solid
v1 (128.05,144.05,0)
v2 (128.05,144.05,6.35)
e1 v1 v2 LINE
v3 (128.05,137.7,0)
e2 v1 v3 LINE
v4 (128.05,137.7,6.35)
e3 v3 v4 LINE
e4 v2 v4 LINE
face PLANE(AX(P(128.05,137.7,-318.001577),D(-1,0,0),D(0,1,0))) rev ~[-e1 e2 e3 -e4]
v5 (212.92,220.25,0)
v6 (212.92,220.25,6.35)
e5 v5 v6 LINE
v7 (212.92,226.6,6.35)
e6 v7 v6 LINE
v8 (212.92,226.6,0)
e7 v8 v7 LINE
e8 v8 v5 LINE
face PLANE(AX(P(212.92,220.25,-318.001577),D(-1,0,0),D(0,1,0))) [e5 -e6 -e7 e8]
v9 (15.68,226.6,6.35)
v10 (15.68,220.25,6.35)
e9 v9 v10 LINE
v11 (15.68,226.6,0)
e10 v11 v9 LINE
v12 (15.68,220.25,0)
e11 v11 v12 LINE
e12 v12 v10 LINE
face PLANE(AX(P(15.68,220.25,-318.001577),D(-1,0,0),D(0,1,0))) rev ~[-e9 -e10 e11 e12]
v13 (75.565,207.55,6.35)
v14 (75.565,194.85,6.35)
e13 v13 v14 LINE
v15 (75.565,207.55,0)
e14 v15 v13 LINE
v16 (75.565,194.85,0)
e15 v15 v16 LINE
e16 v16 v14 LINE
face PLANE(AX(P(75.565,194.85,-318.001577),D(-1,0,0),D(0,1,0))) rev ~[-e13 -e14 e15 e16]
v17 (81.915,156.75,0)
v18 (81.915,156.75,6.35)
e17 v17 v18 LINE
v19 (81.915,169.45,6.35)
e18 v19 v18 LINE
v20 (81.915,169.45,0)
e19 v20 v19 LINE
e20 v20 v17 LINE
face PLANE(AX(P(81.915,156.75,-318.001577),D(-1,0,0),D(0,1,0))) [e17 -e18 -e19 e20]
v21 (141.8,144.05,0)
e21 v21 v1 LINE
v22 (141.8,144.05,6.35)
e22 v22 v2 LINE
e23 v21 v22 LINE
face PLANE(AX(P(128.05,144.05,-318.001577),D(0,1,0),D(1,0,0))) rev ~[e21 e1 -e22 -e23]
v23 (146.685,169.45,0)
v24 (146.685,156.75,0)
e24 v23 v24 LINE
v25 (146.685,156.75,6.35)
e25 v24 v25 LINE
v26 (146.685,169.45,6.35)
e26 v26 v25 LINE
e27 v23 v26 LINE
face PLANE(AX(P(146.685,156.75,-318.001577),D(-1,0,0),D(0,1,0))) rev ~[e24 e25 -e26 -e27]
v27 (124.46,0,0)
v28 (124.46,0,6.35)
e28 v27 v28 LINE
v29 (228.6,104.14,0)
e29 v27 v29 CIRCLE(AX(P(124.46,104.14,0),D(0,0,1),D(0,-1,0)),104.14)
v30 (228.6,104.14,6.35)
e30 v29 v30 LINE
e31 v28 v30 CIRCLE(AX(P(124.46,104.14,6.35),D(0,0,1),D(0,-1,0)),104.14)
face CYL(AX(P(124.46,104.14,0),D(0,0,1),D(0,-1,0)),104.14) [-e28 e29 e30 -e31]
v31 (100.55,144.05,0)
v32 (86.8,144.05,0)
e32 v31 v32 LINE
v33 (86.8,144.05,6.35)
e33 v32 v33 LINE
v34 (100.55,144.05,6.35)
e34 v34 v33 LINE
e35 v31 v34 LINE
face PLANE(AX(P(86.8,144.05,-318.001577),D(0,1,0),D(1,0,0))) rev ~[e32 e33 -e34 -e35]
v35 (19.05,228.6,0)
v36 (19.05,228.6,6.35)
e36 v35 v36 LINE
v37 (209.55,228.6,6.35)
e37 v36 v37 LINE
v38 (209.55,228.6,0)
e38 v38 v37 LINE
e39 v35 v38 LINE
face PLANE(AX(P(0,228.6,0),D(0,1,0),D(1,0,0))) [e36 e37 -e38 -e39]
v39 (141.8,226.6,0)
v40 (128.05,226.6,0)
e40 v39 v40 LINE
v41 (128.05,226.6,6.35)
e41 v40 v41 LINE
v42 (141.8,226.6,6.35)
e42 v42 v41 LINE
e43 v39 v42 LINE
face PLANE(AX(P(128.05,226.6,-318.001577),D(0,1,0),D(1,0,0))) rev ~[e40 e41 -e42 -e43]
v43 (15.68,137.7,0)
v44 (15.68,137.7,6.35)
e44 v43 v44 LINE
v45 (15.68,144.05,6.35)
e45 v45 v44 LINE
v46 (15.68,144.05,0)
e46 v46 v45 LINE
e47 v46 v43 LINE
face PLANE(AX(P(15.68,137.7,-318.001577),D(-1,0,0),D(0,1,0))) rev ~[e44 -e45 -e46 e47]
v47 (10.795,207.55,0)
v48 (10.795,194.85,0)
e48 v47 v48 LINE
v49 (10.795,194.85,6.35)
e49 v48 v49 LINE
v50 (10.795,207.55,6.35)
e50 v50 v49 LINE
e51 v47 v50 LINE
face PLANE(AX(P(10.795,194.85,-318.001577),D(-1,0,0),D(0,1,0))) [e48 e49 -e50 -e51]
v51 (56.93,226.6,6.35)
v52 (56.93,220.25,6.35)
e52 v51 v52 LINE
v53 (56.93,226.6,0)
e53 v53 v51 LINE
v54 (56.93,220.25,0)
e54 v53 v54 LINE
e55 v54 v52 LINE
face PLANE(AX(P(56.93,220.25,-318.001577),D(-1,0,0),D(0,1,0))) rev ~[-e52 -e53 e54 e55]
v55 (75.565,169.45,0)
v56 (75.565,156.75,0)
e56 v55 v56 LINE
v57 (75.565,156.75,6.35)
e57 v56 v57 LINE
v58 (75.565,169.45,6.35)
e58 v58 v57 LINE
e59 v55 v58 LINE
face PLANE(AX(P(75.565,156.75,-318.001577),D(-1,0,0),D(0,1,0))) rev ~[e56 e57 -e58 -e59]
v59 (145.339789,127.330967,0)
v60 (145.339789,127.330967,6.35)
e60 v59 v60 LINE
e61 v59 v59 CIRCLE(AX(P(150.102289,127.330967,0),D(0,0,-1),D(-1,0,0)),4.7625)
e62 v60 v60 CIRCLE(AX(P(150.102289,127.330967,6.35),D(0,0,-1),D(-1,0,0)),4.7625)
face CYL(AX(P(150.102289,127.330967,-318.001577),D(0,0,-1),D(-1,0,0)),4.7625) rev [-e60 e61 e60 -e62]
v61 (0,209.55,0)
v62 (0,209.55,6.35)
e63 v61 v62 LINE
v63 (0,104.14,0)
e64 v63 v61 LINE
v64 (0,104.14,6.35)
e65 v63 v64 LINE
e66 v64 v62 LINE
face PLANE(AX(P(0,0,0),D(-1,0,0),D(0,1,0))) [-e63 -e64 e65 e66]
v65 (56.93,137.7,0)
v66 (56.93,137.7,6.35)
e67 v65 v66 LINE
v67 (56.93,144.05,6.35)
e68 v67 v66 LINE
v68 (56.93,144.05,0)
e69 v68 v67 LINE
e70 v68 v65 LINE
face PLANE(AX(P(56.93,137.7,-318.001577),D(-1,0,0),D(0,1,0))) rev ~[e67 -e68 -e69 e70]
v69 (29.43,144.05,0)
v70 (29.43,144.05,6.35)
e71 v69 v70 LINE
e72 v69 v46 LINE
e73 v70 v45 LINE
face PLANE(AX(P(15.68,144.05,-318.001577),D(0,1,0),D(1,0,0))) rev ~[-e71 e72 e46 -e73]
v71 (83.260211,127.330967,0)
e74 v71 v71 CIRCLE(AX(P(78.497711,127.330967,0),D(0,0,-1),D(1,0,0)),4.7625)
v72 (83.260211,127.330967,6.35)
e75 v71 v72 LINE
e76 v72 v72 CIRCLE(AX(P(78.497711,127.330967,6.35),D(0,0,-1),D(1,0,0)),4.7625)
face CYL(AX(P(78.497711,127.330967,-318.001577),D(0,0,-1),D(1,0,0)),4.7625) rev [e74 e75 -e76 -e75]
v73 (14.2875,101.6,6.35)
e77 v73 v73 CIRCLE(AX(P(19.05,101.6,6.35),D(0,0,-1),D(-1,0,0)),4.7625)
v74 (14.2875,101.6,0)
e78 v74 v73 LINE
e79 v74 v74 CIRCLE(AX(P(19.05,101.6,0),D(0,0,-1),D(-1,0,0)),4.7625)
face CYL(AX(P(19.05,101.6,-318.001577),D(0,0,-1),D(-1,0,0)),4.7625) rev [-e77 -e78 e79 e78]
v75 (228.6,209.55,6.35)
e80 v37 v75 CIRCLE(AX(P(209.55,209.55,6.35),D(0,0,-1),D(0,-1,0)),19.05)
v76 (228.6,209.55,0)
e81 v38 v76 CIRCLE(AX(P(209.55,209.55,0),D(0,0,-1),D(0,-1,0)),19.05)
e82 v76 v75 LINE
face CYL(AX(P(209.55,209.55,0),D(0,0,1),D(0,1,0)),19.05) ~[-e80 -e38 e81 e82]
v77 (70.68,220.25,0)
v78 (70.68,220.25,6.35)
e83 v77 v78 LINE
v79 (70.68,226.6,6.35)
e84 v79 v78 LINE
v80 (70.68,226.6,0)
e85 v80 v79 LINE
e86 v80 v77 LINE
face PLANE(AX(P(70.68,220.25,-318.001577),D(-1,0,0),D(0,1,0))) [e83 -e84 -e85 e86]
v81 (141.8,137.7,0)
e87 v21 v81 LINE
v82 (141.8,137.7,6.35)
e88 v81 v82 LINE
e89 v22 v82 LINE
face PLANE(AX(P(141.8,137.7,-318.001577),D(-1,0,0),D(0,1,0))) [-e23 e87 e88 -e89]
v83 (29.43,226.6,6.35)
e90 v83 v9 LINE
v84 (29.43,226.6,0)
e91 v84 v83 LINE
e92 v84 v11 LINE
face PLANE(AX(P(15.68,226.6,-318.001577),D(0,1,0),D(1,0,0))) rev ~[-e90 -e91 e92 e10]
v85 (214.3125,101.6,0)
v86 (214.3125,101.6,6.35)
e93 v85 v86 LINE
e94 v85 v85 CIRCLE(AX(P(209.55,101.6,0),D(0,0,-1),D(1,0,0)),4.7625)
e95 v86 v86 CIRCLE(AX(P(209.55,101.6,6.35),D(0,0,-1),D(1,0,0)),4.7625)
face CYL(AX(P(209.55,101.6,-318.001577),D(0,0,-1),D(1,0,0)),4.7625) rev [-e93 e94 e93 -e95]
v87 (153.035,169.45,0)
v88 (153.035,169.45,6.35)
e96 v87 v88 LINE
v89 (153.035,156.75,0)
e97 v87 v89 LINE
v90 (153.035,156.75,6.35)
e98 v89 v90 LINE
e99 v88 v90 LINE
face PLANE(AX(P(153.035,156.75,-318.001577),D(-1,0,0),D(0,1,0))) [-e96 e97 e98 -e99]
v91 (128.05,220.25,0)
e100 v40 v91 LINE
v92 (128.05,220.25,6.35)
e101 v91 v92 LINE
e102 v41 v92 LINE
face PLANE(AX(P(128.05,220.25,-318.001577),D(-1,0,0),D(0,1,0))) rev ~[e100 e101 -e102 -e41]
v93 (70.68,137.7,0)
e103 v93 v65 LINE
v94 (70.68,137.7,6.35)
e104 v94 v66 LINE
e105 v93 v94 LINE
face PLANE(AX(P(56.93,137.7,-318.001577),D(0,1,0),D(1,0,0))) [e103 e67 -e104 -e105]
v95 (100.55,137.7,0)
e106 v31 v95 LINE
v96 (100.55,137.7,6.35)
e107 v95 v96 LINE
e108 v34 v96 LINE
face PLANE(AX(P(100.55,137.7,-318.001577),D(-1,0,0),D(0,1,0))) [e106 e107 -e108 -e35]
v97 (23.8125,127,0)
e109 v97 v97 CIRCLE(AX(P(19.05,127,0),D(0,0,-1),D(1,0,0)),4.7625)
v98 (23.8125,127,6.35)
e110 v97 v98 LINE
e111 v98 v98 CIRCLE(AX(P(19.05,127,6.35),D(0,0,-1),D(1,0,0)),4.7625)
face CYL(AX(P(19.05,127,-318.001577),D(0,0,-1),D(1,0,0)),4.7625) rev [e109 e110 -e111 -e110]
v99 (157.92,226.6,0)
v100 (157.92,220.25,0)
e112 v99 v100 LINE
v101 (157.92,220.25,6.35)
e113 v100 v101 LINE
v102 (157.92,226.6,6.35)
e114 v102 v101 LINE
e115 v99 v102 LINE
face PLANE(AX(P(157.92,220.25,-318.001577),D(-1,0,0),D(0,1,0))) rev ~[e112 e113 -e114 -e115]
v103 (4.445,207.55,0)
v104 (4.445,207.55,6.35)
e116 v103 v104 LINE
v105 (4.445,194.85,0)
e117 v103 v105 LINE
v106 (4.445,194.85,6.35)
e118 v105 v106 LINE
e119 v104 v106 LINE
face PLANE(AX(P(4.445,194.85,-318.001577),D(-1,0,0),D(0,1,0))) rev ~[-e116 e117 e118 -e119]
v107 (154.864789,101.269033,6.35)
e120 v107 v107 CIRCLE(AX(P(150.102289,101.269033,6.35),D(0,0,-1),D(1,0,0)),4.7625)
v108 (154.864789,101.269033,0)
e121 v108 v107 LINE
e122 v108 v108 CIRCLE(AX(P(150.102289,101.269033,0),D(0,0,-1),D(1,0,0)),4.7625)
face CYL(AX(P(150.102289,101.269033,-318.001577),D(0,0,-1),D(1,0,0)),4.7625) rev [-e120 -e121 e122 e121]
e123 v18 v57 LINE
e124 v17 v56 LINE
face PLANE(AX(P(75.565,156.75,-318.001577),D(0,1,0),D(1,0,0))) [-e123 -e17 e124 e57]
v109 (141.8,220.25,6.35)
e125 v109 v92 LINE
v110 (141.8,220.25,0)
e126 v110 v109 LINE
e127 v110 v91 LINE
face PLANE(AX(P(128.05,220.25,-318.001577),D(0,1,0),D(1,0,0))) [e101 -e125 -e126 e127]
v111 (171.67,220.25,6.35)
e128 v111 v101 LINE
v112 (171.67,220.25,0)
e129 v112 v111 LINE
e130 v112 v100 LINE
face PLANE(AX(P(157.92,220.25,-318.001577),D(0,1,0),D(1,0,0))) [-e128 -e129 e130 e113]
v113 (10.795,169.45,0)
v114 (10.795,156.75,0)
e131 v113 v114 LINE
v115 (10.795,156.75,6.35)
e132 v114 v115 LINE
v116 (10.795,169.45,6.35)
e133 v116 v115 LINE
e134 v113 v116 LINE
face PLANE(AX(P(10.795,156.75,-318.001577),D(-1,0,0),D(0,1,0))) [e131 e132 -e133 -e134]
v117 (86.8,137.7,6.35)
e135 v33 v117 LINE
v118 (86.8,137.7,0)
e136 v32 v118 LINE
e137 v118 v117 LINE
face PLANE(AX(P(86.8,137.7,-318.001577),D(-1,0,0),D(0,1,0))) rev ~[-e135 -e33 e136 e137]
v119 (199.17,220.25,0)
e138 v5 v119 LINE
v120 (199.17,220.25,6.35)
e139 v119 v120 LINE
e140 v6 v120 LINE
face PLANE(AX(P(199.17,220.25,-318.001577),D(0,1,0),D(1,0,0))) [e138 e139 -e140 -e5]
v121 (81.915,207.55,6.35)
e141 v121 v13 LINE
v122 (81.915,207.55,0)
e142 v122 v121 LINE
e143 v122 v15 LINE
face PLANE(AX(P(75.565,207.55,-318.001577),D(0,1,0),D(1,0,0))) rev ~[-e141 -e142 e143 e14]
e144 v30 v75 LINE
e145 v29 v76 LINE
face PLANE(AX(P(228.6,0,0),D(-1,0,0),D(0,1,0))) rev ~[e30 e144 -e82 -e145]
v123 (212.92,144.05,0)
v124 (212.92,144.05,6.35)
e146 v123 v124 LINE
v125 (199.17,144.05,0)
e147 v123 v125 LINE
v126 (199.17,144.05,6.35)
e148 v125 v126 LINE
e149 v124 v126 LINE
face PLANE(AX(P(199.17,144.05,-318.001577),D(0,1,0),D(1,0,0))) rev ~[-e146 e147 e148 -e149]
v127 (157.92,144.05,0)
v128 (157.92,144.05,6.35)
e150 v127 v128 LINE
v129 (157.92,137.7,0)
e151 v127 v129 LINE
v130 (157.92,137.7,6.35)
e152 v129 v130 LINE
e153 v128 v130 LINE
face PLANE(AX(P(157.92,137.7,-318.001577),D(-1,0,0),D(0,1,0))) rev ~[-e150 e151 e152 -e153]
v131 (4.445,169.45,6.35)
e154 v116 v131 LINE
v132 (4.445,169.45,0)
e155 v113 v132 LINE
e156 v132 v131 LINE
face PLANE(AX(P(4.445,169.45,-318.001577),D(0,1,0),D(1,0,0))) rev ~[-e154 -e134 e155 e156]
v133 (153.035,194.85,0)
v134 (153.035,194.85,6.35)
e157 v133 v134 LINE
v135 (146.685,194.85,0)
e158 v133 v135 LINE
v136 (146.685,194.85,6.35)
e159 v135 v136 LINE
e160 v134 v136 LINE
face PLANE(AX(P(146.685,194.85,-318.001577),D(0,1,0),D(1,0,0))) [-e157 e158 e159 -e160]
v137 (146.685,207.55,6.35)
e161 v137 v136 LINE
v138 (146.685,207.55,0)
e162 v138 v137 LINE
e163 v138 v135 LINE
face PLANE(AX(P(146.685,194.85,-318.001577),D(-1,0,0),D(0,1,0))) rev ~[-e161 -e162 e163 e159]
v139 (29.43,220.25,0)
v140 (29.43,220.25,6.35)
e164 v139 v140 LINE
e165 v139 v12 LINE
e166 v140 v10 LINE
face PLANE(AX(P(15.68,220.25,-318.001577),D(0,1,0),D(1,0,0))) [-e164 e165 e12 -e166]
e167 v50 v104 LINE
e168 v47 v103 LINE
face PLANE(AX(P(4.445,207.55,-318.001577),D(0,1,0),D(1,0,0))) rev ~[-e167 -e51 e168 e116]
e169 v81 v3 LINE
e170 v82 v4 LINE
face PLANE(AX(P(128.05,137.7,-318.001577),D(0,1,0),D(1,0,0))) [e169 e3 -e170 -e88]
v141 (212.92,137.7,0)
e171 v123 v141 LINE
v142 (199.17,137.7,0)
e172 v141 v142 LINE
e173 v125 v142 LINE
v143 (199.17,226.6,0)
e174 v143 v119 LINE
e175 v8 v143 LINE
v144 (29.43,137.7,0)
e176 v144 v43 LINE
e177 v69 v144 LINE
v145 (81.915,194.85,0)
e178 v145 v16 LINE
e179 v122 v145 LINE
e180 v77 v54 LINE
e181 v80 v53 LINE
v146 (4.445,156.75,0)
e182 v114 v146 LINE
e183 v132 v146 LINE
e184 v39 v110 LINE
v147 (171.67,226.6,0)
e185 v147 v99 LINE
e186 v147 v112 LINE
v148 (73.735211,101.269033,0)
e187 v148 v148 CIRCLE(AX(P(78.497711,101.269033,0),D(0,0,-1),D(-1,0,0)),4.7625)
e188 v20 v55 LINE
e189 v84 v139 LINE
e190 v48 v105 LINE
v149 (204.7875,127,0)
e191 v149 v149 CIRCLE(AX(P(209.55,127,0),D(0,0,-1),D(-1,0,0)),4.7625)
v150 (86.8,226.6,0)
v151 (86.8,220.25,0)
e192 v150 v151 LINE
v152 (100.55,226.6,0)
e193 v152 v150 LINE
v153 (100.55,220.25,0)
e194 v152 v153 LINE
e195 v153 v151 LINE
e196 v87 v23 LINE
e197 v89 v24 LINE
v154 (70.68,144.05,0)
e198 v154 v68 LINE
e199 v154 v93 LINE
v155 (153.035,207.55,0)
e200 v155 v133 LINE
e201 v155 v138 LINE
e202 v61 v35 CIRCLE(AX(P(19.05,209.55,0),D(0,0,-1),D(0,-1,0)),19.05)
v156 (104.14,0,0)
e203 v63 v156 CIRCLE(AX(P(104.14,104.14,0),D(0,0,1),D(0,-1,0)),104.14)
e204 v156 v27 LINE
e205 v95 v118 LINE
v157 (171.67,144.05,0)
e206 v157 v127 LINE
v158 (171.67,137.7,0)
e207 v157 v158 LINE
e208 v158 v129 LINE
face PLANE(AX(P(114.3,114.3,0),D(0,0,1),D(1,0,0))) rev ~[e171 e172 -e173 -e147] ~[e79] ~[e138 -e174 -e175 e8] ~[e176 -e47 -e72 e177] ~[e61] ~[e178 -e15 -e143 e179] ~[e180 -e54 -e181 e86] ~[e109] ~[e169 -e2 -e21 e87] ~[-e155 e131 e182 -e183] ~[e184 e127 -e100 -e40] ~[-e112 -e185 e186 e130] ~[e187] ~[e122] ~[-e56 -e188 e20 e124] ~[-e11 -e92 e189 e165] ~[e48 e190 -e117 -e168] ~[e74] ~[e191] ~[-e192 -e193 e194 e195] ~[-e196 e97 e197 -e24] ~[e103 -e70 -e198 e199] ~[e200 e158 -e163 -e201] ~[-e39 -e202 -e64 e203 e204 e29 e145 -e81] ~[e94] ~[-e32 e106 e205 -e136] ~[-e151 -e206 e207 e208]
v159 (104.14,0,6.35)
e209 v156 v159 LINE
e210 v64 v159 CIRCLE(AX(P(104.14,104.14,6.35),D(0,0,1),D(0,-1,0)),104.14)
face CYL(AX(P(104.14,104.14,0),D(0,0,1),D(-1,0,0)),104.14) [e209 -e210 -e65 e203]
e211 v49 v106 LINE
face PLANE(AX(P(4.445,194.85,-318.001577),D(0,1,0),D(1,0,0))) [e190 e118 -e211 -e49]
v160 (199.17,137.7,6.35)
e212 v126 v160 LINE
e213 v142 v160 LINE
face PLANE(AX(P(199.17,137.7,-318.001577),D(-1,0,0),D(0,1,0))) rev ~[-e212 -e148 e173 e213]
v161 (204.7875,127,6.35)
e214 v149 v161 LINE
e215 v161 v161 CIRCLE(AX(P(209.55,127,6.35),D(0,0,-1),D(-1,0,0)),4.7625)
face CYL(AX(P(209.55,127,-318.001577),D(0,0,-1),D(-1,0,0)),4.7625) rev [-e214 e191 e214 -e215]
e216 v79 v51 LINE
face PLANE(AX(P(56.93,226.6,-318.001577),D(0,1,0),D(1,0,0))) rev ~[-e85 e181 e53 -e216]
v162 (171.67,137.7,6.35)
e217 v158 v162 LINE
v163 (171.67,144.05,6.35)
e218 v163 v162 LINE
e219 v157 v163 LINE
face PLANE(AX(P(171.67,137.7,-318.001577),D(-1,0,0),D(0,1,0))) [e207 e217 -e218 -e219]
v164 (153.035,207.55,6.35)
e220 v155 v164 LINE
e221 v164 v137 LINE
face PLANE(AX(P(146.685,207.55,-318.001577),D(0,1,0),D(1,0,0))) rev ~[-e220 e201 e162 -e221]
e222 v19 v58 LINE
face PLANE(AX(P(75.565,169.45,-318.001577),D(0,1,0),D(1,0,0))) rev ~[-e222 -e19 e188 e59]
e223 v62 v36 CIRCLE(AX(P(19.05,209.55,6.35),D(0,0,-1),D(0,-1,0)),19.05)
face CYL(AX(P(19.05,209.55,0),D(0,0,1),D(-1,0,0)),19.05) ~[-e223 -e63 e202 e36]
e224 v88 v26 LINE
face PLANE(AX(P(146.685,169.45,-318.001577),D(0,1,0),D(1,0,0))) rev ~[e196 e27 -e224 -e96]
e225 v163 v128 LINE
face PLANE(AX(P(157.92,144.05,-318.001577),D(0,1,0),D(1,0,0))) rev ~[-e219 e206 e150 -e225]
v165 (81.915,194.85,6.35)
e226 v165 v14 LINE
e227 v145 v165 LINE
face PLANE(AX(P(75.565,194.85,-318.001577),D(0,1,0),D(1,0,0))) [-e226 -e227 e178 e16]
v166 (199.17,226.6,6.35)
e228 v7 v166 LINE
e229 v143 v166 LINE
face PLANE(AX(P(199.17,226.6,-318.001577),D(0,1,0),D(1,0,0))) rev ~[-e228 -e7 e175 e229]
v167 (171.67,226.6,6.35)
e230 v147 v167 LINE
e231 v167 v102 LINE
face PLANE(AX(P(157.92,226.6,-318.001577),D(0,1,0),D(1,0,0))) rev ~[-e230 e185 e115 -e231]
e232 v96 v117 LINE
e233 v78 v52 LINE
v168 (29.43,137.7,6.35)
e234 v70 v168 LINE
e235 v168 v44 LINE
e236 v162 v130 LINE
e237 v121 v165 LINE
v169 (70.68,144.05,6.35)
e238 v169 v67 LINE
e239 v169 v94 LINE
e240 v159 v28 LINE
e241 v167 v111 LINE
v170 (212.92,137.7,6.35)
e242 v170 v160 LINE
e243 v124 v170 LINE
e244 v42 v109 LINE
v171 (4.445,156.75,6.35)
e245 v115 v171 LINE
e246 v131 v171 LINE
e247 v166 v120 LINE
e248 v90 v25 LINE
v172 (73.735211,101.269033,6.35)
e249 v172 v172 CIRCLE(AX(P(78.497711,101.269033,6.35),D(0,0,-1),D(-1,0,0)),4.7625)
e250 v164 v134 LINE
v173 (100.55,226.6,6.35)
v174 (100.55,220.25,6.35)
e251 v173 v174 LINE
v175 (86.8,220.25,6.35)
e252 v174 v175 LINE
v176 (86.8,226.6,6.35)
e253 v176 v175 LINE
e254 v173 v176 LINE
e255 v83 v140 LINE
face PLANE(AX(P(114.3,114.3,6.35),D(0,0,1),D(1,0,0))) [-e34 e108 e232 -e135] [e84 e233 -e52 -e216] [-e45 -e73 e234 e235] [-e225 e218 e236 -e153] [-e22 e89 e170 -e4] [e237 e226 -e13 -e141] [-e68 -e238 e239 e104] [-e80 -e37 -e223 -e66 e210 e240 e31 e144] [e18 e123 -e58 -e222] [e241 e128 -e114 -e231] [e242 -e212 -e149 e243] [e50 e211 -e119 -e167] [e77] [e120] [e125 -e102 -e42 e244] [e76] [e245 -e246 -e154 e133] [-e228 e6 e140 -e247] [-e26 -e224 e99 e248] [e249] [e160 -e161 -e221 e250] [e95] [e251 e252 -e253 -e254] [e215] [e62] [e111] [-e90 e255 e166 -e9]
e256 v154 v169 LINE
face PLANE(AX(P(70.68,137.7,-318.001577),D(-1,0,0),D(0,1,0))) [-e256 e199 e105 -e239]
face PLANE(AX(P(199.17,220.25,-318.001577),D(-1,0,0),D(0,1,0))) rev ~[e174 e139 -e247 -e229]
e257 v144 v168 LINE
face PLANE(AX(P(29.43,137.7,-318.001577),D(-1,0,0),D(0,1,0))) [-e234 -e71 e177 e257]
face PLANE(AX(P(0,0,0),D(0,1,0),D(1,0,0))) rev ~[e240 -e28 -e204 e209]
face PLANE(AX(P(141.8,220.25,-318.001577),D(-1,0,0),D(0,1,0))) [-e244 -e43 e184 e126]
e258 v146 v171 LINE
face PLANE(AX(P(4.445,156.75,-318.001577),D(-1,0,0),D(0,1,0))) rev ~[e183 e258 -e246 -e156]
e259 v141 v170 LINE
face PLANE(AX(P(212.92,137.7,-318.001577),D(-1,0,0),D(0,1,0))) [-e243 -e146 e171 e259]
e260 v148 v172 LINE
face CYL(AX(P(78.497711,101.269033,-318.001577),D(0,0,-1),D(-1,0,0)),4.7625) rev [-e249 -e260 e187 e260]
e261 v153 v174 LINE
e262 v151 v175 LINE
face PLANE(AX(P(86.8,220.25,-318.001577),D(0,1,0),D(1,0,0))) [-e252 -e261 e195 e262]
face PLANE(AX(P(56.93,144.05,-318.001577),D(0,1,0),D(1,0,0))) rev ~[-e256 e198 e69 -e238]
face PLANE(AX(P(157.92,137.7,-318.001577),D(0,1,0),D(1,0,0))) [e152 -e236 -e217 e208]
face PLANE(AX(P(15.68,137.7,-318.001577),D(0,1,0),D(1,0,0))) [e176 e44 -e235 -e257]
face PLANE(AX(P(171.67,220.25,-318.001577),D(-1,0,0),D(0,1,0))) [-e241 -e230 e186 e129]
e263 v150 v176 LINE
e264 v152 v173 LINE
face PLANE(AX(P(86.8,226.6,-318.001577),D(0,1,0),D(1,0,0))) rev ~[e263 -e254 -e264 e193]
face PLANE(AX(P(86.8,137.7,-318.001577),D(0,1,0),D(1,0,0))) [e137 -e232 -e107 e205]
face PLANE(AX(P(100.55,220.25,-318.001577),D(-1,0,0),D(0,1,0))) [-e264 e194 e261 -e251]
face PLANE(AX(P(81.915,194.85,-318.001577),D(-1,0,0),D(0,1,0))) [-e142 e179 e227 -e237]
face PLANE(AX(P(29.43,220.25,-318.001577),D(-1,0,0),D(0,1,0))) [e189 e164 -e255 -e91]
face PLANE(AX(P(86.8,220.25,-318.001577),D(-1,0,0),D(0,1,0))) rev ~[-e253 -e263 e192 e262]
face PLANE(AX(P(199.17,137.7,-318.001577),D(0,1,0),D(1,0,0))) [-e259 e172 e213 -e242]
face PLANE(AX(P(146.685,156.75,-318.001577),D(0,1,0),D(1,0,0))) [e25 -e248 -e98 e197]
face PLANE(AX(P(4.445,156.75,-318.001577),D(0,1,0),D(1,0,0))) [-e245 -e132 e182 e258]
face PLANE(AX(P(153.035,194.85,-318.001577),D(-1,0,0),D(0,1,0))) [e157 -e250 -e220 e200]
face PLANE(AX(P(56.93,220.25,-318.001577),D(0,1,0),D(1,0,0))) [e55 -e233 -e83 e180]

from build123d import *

# Parameters (mm, degrees)
SKETCH1_W               = 228.6
SKETCH1_H               = 228.6
BOSS_EXTRUDE1_DEPTH     = 6.35
CUT_EXTRUDE1_DEPTH      = 324.351577234
CUT_EXTRUDE1_DEPTH_BACK = 324.351577234
SKETCH2_W               = 13.749999996
SKETCH2_H               = 6.35
SKETCH2_W_2             = 13.749999995
CUT_EXTRUDE2_DEPTH      = 324.351577234
CUT_EXTRUDE2_DEPTH_BACK = 324.351577234
SKETCH3_R               = 4.7625
FILLET1_R               = 19.05
FILLET2_R               = 104.14
CUT_EXTRUDE3_DEPTH      = 324.351577234
CUT_EXTRUDE3_DEPTH_BACK = 324.351577234
SKETCH4_W               = 6.35
SKETCH4_H               = 12.7
CUT_EXTRUDE4_DEPTH      = 324.351577234
CUT_EXTRUDE4_DEPTH_BACK = 324.351577234
SKETCH5_R               = 4.7625


with BuildPart() as part:
    # Sketch1 → Boss-Extrude1 (new body)
    with BuildSketch(Plane.XY):
        with Locations((114.3, 114.3)):
            Rectangle(SKETCH1_W, SKETCH1_H)
    extrude(amount=BOSS_EXTRUDE1_DEPTH)

    # Sketch2 → Cut-Extrude1 (cut, two sides: drawn at the far end of the back side and taken through both)
    with BuildSketch(Plane.XY.offset(6.35).offset(-CUT_EXTRUDE1_DEPTH_BACK)):
        with Locations((134.924999993, 223.424999936)):
            Rectangle(SKETCH2_W, SKETCH2_H)
        with Locations((93.675000006, 223.424999936)):
            Rectangle(SKETCH2_W_2, SKETCH2_H)
        with Locations((206.044999993, 223.424999936)):
            Rectangle(SKETCH2_W, SKETCH2_H)
        with Locations((164.795000007, 223.424999936)):
            Rectangle(SKETCH2_W_2, SKETCH2_H)
        with Locations((22.555000007, 223.424999936)):
            Rectangle(SKETCH2_W_2, SKETCH2_H)
        with Locations((63.804999993, 223.424999936)):
            Rectangle(SKETCH2_W, SKETCH2_H)
        with Locations((206.044999993, 140.874999936)):
            Rectangle(SKETCH2_W, SKETCH2_H)
        with Locations((164.795000007, 140.874999936)):
            Rectangle(SKETCH2_W_2, SKETCH2_H)
        with Locations((134.924999993, 140.874999936)):
            Rectangle(SKETCH2_W, SKETCH2_H)
        with Locations((93.675000006, 140.874999936)):
            Rectangle(SKETCH2_W_2, SKETCH2_H)
        with Locations((63.804999993, 140.874999936)):
            Rectangle(SKETCH2_W, SKETCH2_H)
        with Locations((22.555000007, 140.874999936)):
            Rectangle(SKETCH2_W, SKETCH2_H)
    extrude(amount=CUT_EXTRUDE1_DEPTH + CUT_EXTRUDE1_DEPTH_BACK, mode=Mode.SUBTRACT)

    # Sketch3 → Cut-Extrude2 (cut, two sides: drawn at the far end of the back side and taken through both)
    with BuildSketch(Plane.XY.offset(6.35).offset(-CUT_EXTRUDE2_DEPTH_BACK)):
        with Locations((19.05, 127)):
            Circle(SKETCH3_R)
        with Locations(Location((19.05, 101.6, 0), (0, 0, 180))):
            Circle(SKETCH3_R)
        with Locations((209.55, 101.6)):
            Circle(SKETCH3_R)
        with Locations(Location((209.55, 127, 0), (0, 0, 180))):
            Circle(SKETCH3_R)
    extrude(amount=CUT_EXTRUDE2_DEPTH + CUT_EXTRUDE2_DEPTH_BACK, mode=Mode.SUBTRACT)

    # Fillet1
    fillet1_edges = [part.edges().sort_by_distance(p)[0] for p in [
        (0, 228.6, 3.175),
        (228.6, 228.6, 3.175),
    ]]
    fillet(fillet1_edges, radius=FILLET1_R)

    # Fillet2
    fillet2_edges = [part.edges().sort_by_distance(p)[0] for p in [
        (228.6, 0, 3.175),
        (0, 0, 3.175),
    ]]
    fillet(fillet2_edges, radius=FILLET2_R)

    # Sketch4 → Cut-Extrude3 (cut, two sides: drawn at the far end of the back side and taken through both)
    with BuildSketch(Plane.XY.offset(6.35).offset(-CUT_EXTRUDE3_DEPTH_BACK)):
        with Locations((78.74, 201.199999936)):
            Rectangle(SKETCH4_W, SKETCH4_H)
        with Locations((78.74, 163.099999936)):
            Rectangle(SKETCH4_W, SKETCH4_H)
        with Locations((149.86, 163.099999936)):
            Rectangle(SKETCH4_W, SKETCH4_H)
        with Locations((149.86, 201.199999936)):
            Rectangle(SKETCH4_W, SKETCH4_H)
        with Locations((7.62, 163.099999936)):
            Rectangle(SKETCH4_W, SKETCH4_H)
        with Locations((7.62, 201.199999936)):
            Rectangle(SKETCH4_W, SKETCH4_H)
    extrude(amount=CUT_EXTRUDE3_DEPTH + CUT_EXTRUDE3_DEPTH_BACK, mode=Mode.SUBTRACT)

    # Sketch5 → Cut-Extrude4 (cut, two sides: drawn at the far end of the back side and taken through both)
    with BuildSketch(Plane.XY.offset(6.35).offset(-CUT_EXTRUDE4_DEPTH_BACK)):
        with Locations((78.497711148, 127.330967461)):
            Circle(SKETCH5_R)
        with Locations(Location((150.102288852, 127.330967461, 0), (0, 0, 180))):
            Circle(SKETCH5_R)
        with Locations((150.102288852, 101.269032539)):
            Circle(SKETCH5_R)
        with Locations(Location((78.497711148, 101.269032539, 0), (0, 0, 180))):
            Circle(SKETCH5_R)
    extrude(amount=CUT_EXTRUDE4_DEPTH + CUT_EXTRUDE4_DEPTH_BACK, mode=Mode.SUBTRACT)


solid = part.part
